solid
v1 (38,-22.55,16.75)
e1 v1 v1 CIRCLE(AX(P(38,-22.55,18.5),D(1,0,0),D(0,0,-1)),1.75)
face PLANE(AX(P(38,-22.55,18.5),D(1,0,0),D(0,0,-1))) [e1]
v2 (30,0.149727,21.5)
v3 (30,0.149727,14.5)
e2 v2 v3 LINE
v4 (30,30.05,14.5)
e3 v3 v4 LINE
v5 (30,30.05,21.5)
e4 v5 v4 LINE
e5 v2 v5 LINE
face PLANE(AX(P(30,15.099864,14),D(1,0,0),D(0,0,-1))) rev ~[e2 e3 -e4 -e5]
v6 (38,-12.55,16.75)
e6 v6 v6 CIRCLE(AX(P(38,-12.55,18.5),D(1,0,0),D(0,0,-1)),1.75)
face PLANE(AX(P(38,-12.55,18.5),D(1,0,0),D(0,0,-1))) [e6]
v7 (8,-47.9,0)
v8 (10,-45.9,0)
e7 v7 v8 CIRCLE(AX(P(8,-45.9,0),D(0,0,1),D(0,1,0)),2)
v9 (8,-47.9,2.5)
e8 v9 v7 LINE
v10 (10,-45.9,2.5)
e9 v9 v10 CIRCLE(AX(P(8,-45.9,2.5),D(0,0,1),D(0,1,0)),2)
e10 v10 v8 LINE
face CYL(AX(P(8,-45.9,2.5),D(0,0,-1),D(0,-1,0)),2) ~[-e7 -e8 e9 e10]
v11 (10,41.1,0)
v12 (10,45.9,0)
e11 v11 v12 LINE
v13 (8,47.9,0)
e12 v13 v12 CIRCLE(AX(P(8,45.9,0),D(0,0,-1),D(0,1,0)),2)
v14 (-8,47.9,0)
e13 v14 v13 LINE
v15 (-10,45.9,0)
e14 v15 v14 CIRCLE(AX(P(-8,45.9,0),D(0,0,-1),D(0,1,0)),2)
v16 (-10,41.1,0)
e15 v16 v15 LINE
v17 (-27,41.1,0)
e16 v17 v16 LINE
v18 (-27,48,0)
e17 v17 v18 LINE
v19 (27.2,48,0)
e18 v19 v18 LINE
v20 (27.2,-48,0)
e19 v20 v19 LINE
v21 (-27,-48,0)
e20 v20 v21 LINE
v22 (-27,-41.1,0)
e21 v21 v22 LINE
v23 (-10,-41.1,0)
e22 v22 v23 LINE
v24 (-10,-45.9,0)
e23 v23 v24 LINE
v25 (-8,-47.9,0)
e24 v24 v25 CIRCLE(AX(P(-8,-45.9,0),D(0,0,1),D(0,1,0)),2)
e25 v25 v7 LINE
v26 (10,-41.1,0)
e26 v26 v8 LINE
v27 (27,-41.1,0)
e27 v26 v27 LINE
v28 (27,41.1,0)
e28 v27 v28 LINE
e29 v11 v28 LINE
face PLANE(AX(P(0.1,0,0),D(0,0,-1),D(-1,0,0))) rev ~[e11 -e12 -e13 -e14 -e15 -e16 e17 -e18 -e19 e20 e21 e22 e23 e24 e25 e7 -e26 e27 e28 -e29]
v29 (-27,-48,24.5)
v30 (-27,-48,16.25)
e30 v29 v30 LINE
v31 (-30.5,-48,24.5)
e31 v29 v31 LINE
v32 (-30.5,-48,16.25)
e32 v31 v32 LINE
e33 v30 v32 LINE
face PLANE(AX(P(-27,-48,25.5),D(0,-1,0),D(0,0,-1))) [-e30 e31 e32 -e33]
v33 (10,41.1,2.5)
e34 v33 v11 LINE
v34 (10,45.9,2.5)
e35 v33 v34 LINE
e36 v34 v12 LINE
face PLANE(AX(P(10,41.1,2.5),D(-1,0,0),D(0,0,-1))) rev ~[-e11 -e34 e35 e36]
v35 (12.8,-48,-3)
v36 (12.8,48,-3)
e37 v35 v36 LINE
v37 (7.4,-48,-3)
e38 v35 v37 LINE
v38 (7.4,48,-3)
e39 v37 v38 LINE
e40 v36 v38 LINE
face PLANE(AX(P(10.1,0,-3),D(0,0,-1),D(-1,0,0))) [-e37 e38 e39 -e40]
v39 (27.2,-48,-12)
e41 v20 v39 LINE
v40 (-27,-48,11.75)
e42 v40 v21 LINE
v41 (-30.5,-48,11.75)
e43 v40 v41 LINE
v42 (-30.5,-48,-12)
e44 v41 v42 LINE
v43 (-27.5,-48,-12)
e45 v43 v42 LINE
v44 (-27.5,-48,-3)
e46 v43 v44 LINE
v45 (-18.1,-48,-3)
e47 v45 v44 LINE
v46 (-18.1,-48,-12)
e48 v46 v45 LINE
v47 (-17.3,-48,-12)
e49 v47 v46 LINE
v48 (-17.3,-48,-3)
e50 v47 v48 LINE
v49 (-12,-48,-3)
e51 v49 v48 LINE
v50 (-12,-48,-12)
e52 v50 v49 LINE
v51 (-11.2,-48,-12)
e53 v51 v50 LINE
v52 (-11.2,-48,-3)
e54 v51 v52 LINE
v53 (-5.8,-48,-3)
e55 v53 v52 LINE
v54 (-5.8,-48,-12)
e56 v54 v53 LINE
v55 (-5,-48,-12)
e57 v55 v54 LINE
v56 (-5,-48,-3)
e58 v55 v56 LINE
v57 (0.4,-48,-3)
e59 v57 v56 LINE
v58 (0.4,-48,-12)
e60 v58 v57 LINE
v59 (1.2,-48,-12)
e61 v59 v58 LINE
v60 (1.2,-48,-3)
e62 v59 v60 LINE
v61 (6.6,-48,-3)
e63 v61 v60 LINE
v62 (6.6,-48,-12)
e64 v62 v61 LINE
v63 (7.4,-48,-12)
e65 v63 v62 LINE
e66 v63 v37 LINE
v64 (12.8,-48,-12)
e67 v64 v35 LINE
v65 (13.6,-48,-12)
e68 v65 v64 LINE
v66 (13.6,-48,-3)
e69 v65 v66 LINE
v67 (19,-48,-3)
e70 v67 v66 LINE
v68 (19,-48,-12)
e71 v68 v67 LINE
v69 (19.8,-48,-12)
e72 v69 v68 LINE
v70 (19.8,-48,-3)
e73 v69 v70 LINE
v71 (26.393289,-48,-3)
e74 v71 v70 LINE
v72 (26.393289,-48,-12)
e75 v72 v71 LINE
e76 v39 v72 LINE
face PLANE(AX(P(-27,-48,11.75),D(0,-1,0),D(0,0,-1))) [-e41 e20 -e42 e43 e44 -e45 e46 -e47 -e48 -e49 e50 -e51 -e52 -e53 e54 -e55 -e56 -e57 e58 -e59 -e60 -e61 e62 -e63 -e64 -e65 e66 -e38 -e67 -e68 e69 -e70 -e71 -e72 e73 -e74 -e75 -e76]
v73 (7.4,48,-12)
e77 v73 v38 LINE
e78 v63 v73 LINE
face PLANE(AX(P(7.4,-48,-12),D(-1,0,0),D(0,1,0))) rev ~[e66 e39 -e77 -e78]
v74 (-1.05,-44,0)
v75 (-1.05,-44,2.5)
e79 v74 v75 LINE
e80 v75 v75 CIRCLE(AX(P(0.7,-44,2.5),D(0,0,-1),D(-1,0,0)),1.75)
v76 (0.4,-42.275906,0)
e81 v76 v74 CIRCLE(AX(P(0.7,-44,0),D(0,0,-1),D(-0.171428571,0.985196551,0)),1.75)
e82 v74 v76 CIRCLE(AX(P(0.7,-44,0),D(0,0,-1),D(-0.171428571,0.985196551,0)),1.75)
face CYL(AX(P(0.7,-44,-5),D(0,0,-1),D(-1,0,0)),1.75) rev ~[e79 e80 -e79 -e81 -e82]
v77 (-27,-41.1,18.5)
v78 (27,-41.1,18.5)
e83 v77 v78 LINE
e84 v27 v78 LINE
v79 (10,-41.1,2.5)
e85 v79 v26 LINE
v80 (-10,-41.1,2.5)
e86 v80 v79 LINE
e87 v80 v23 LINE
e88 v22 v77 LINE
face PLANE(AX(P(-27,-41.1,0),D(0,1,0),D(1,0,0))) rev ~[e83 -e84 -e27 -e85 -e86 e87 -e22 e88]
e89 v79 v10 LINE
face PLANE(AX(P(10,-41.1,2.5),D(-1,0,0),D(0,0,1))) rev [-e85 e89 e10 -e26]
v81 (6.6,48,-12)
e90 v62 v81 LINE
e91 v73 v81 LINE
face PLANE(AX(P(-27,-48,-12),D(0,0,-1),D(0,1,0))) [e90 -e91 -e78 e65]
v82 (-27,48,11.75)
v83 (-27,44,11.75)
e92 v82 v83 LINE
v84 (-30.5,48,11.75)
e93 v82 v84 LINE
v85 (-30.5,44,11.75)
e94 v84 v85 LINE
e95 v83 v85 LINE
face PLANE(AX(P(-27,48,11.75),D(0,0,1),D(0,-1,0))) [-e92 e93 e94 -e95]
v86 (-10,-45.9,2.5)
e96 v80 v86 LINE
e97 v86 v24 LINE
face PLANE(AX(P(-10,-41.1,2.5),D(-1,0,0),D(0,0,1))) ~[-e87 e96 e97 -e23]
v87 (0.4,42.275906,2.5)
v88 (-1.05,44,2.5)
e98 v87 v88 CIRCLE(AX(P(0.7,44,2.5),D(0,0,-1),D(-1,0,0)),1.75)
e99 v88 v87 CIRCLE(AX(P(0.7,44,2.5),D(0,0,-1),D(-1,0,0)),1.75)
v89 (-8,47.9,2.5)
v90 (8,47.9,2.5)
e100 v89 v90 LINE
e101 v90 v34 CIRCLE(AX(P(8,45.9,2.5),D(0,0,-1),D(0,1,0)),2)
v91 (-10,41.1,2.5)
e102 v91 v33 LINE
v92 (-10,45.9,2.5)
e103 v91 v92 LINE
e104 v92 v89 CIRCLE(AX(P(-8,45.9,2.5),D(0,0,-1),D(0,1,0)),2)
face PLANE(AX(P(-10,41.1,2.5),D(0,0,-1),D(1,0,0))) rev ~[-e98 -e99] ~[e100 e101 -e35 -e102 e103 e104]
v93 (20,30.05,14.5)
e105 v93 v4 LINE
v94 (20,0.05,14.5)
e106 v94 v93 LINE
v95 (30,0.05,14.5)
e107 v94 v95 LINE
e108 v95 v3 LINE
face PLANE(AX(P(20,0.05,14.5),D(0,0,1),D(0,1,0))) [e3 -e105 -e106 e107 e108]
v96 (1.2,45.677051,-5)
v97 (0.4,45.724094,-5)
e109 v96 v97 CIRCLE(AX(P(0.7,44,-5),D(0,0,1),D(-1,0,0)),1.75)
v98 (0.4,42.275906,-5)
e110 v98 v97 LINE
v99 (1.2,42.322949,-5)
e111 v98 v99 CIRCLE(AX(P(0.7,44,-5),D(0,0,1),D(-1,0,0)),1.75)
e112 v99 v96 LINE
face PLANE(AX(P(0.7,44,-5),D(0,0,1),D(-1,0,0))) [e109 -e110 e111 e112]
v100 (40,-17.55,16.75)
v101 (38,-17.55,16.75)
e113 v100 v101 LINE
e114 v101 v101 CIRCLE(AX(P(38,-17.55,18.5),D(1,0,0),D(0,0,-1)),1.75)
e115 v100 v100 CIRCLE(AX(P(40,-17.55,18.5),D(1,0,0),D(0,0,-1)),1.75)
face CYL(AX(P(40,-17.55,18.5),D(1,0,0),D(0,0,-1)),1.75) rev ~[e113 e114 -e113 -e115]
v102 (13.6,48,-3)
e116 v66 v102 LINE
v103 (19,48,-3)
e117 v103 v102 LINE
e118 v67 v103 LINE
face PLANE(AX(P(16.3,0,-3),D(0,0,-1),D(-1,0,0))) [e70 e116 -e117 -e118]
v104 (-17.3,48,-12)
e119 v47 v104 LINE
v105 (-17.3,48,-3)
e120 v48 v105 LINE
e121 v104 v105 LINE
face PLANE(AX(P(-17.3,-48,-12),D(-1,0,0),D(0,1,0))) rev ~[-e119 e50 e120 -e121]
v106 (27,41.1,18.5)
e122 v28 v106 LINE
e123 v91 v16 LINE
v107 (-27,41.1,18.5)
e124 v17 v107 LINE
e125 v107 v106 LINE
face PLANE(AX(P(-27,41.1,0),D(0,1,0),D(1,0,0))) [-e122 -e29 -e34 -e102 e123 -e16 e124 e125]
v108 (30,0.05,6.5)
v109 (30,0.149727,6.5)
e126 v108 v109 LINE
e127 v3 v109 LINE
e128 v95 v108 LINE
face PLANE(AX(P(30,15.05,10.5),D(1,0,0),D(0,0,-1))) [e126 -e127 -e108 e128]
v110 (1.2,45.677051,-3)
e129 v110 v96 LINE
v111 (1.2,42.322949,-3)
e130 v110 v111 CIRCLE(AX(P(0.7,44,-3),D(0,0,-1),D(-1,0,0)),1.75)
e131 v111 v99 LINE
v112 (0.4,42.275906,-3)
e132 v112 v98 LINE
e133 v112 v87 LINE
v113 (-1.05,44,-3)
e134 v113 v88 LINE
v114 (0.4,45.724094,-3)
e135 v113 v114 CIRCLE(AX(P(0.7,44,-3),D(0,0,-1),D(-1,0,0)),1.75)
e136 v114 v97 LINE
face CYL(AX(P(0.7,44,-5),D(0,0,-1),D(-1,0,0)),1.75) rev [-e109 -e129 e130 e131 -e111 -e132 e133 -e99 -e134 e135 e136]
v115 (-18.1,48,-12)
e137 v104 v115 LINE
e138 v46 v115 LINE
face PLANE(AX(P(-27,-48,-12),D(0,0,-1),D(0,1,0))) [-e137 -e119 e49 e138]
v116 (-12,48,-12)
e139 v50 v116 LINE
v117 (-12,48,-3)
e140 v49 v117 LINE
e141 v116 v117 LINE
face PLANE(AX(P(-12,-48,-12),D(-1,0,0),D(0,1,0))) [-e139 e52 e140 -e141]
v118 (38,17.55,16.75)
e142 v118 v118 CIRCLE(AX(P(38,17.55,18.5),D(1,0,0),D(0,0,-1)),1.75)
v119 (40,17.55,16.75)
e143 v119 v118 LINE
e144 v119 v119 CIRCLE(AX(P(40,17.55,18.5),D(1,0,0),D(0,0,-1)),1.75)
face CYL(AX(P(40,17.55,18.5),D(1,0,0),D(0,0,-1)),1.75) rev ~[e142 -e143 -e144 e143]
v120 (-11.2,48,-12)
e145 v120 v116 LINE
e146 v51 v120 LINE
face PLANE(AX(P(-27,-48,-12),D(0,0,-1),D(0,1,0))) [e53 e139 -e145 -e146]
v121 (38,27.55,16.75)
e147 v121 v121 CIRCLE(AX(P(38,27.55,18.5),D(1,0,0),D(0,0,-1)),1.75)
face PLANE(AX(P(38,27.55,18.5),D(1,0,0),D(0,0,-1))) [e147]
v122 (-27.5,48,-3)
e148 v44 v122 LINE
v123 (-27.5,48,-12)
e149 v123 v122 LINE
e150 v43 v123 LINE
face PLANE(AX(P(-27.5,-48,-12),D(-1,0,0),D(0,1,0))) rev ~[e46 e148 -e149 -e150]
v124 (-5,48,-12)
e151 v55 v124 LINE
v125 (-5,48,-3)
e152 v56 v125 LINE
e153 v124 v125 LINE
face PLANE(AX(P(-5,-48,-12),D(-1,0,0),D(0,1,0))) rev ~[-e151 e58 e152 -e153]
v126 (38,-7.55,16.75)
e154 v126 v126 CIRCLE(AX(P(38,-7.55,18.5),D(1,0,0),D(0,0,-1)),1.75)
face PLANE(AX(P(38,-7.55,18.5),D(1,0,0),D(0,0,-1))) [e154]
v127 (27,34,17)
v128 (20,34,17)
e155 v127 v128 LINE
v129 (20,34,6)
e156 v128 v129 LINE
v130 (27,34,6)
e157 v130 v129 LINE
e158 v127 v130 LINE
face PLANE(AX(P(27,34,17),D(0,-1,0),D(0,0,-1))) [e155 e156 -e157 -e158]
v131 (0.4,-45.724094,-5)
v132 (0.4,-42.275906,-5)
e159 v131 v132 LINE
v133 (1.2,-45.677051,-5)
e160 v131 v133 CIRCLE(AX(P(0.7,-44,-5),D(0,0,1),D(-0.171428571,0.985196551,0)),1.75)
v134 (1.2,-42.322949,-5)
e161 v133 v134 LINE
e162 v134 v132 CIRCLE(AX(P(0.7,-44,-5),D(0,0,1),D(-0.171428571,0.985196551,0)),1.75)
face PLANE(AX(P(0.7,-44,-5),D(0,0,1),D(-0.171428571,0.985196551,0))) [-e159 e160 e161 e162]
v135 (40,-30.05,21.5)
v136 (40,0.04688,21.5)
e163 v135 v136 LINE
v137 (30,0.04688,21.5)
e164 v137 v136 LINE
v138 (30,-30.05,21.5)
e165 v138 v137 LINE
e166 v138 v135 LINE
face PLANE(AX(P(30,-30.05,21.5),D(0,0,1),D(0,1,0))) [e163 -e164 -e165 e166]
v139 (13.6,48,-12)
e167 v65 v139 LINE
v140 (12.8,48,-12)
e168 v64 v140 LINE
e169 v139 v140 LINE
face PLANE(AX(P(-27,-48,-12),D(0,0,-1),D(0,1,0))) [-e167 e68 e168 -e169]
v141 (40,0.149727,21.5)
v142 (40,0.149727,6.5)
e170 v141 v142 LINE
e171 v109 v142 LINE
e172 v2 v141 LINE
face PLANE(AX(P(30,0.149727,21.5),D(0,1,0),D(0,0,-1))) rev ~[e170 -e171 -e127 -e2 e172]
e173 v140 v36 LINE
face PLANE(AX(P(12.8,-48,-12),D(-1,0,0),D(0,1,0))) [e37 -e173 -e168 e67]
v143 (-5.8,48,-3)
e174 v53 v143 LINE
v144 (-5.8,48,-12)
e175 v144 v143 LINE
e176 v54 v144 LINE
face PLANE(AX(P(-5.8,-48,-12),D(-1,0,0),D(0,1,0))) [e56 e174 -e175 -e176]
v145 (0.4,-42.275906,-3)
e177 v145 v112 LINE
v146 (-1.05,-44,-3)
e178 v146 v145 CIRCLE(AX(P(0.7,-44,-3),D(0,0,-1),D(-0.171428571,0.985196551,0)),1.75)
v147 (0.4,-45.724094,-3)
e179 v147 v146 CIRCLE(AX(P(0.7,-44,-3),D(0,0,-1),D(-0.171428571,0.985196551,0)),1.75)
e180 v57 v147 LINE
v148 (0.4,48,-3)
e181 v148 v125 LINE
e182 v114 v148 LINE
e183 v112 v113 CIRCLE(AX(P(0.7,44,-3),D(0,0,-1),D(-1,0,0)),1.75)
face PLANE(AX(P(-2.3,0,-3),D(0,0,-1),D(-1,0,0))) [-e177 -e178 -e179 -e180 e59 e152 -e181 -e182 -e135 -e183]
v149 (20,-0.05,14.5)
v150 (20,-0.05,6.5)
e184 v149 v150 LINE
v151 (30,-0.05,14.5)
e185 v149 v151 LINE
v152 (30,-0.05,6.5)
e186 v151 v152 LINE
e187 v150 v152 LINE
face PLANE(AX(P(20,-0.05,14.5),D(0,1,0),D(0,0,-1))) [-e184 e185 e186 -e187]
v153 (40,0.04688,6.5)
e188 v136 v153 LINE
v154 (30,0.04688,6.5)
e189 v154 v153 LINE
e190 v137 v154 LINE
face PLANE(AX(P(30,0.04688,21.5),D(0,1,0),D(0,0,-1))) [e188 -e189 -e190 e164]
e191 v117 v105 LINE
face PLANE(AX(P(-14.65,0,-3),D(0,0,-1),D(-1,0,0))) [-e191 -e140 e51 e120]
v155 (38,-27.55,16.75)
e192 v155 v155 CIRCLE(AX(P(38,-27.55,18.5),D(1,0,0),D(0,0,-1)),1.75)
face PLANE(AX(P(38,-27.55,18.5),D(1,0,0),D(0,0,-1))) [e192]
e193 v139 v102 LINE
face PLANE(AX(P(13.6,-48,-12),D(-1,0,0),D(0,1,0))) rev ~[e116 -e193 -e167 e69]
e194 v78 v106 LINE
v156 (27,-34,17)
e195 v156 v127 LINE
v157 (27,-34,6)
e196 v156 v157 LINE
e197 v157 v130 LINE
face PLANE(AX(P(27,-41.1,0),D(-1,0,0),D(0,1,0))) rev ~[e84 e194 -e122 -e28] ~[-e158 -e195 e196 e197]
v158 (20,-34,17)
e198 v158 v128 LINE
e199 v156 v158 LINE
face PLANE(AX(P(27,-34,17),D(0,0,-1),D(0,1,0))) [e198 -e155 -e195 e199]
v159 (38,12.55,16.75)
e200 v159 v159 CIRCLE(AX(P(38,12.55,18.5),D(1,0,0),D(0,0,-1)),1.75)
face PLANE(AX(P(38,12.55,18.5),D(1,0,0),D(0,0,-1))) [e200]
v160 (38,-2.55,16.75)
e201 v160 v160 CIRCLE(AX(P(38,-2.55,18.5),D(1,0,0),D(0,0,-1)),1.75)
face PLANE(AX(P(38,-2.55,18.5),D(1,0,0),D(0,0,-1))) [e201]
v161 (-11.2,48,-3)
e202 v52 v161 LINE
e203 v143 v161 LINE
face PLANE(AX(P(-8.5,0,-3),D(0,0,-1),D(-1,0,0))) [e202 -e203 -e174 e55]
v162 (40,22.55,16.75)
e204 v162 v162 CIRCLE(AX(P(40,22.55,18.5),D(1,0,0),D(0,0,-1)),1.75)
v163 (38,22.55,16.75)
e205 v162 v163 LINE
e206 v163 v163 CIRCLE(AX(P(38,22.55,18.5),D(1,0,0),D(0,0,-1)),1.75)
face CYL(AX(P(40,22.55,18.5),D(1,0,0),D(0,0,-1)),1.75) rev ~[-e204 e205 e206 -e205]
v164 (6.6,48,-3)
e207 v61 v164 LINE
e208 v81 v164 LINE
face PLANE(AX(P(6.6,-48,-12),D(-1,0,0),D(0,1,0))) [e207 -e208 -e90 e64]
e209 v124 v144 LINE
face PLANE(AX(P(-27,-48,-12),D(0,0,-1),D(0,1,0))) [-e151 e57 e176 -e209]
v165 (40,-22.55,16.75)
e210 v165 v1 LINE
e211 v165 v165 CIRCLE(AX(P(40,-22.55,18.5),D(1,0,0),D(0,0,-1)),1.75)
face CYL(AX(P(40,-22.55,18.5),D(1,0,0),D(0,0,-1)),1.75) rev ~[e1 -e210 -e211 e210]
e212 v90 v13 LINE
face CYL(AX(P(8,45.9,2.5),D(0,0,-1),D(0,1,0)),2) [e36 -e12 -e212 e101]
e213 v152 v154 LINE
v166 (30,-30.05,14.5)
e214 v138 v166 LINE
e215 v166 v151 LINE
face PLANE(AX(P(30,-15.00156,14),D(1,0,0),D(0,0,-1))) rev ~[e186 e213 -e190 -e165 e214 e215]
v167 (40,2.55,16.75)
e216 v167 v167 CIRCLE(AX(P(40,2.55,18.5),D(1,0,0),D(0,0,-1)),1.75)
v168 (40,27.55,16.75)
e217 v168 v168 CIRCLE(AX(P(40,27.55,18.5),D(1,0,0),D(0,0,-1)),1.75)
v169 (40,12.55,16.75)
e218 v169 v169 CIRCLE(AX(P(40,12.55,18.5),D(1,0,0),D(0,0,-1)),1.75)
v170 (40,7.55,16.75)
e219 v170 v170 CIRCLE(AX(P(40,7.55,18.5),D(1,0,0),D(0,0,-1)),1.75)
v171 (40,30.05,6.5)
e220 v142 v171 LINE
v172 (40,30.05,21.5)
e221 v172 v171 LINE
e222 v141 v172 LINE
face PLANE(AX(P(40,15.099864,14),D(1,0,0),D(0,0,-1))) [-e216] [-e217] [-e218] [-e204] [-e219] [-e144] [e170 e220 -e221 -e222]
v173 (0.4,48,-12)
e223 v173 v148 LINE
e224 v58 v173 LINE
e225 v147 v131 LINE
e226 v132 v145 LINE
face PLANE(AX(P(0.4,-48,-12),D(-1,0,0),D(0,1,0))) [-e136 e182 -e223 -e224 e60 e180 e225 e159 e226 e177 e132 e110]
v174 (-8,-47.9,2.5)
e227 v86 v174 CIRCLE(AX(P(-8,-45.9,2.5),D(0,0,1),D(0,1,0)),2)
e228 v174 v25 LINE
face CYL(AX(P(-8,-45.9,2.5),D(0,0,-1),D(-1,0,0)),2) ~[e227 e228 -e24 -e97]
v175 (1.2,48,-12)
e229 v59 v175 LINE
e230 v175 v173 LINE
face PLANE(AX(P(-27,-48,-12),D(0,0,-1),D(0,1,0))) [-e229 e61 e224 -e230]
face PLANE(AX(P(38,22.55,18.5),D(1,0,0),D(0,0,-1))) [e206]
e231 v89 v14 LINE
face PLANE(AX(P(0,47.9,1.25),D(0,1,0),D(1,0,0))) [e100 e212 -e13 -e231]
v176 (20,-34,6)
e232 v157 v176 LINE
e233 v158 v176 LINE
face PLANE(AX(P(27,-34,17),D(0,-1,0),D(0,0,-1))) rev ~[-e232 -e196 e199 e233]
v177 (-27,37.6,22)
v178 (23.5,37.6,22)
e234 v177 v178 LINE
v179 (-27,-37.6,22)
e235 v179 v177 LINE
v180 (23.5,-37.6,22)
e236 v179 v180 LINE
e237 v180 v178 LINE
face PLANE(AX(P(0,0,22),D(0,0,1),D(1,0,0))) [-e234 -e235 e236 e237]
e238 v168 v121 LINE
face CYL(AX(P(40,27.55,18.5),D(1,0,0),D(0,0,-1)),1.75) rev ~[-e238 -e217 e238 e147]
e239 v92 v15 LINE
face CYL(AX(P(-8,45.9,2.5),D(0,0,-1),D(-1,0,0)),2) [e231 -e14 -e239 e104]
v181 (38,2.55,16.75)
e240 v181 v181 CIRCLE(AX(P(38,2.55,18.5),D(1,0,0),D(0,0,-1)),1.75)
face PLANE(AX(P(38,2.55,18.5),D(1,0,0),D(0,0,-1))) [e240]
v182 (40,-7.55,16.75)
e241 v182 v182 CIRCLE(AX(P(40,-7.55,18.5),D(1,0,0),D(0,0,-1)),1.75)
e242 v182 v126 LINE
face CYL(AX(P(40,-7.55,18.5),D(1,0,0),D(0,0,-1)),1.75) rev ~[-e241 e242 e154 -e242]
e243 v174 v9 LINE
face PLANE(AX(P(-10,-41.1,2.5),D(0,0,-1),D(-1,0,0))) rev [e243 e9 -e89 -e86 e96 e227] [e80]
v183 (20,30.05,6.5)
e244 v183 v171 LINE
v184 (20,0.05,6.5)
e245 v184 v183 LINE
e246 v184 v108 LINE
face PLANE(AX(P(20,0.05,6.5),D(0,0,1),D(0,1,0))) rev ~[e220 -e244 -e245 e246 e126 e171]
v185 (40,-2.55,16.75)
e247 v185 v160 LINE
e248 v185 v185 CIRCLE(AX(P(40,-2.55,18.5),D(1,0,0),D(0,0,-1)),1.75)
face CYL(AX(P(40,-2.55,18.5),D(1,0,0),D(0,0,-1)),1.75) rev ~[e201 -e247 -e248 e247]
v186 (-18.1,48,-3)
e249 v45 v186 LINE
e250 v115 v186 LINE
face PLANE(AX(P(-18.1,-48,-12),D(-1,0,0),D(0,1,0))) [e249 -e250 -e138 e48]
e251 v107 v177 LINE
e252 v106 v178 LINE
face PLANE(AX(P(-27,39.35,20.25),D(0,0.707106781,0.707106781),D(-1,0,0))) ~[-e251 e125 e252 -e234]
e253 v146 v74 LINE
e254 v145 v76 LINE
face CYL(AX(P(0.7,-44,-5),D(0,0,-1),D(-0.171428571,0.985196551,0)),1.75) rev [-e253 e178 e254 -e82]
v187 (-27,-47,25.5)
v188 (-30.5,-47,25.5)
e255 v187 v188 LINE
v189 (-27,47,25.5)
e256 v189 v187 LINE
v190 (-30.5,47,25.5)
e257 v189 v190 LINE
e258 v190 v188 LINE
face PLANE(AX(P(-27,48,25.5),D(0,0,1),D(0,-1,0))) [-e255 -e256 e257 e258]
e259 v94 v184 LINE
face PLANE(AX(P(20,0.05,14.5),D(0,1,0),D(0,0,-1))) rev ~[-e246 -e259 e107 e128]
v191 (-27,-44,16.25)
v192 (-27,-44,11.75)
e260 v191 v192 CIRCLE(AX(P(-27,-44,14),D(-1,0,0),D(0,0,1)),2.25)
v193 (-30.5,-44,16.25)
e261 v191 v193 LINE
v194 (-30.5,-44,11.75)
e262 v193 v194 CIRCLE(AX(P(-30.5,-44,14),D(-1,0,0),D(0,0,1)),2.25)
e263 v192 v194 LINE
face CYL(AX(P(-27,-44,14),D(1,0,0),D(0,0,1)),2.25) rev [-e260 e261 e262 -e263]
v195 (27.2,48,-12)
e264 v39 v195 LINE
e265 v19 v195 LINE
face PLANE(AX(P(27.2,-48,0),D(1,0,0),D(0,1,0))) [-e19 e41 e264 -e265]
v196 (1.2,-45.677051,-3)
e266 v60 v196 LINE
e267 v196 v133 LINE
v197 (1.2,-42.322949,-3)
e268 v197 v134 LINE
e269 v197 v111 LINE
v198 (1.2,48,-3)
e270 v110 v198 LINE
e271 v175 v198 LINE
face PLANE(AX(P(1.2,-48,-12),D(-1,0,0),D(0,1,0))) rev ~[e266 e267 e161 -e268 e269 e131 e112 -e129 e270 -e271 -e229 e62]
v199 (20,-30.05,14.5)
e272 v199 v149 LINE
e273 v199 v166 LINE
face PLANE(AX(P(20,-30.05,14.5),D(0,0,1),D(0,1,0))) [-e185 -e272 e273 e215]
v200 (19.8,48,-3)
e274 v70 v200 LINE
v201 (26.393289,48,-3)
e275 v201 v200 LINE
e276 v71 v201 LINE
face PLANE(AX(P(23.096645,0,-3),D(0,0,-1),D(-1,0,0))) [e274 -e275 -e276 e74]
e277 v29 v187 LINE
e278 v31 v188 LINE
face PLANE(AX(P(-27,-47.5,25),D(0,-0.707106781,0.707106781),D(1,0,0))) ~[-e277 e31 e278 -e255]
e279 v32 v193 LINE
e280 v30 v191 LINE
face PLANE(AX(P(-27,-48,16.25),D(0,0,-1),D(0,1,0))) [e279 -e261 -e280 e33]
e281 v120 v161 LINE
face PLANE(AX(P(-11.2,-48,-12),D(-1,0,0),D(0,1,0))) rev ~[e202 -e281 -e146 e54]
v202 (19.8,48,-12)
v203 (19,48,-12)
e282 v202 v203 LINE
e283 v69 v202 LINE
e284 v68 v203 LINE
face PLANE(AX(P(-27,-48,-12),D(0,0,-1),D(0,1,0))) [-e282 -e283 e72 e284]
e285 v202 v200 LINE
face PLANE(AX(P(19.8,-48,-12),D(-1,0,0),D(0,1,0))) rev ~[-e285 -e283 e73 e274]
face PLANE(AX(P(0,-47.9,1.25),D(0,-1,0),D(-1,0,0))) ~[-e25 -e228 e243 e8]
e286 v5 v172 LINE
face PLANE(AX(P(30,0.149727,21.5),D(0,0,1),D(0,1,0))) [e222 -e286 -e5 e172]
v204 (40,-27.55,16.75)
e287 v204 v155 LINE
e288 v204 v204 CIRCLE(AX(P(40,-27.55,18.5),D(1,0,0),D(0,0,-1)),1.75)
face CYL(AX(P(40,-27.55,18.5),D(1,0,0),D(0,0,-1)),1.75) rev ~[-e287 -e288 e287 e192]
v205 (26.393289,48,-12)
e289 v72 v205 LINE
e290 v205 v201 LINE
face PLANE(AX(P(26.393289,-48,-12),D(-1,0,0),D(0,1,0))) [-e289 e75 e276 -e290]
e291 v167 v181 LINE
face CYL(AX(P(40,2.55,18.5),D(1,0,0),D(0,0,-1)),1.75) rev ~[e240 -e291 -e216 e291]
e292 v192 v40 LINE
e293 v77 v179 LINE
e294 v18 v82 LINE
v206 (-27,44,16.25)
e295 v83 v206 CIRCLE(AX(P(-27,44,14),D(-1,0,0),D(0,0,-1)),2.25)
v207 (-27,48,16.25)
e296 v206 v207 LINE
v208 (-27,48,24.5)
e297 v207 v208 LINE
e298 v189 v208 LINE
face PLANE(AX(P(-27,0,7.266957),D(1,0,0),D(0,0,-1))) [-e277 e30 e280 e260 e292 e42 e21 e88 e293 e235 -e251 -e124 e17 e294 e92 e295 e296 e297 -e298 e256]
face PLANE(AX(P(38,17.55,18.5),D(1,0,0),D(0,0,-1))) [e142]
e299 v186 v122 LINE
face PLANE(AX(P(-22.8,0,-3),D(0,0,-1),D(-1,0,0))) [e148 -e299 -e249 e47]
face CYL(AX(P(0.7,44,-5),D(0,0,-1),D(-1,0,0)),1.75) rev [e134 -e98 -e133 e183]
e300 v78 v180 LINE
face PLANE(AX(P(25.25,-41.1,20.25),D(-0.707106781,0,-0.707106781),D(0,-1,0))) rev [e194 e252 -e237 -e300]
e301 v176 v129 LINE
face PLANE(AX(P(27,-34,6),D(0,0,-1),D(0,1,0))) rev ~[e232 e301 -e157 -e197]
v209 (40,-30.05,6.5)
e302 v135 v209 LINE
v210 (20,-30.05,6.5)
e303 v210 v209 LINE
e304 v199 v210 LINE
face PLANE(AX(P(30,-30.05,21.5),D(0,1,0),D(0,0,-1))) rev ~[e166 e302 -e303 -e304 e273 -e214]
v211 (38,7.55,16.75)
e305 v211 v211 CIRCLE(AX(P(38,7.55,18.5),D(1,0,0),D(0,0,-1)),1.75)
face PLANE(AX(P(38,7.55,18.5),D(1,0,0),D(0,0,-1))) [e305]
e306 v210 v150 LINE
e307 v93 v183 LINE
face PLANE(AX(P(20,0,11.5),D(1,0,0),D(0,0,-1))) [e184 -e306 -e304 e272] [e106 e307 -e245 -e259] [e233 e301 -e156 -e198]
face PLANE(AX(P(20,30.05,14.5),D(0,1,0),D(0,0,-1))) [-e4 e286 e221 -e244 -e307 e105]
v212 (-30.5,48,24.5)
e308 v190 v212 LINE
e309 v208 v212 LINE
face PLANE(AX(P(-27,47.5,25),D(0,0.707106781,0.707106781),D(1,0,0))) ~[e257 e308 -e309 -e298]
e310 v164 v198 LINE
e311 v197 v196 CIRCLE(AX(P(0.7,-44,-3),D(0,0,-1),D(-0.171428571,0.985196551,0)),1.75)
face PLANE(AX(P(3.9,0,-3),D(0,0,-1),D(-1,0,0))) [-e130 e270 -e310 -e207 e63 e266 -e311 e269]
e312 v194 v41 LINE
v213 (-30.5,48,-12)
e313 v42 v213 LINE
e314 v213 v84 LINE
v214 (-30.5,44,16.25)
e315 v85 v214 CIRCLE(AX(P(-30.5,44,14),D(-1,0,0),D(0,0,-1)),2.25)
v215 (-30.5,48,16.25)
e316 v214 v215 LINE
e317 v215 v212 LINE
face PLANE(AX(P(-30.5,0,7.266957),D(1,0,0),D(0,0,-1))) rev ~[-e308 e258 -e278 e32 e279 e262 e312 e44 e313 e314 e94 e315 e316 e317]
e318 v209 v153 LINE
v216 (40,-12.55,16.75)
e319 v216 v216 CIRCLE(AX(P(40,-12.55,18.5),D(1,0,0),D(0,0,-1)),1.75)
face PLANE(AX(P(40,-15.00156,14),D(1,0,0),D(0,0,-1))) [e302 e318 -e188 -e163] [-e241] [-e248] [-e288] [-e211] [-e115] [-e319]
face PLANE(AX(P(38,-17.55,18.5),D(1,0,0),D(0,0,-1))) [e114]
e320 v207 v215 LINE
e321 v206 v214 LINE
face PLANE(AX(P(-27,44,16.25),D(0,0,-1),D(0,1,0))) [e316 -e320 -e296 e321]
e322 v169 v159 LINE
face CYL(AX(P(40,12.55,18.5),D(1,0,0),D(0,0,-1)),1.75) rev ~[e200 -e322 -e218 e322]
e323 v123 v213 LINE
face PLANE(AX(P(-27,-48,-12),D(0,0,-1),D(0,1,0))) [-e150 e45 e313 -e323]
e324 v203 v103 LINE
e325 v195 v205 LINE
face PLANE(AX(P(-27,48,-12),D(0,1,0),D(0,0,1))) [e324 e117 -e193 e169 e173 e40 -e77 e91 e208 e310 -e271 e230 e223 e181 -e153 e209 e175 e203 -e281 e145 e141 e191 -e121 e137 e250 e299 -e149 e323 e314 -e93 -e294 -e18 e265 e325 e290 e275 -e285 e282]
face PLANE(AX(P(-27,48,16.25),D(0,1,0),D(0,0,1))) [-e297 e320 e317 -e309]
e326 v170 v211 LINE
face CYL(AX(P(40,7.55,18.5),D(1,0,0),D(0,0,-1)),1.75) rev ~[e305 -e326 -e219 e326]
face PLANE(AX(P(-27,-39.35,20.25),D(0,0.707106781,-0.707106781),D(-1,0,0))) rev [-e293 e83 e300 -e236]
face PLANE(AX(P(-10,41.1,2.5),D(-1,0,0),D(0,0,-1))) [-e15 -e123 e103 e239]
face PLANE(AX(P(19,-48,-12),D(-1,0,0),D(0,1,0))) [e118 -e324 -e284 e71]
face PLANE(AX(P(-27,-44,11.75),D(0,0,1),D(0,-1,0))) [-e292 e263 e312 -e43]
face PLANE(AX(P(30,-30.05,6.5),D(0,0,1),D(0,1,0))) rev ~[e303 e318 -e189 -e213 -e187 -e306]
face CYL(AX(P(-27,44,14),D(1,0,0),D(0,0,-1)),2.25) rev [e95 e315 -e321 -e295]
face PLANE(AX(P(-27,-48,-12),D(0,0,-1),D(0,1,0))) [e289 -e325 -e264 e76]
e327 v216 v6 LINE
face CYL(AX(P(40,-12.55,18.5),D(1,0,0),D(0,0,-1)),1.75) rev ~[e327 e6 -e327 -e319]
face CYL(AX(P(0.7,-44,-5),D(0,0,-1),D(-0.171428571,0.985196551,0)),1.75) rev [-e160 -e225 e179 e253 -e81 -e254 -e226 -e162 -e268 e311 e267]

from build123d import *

# Parameters (mm, degrees)
SKETCH_1_W             = 54
SKETCH_1_H             = 82.2
EXTRUDE_1_DEPTH        = 22
CHAMFER_1_SIZE         = 3.5
SKETCH_2_W             = 54.2
SKETCH_2_H             = 96
EXTRUDE_2_DEPTH        = 12
EXTRUDE_3_DEPTH        = 3.5
CHAMFER_2_SIZE         = 1
SKETCH_5_W             = 9.4
SKETCH_5_H             = 96
SKETCH_5_W_2           = 5.3
SKETCH_5_W_3           = 5.4
SKETCH_5_W_4           = 6.593289258
CUT_EXTRUDE_2_DEPTH    = 9
SKETCH_6_W             = 11
SKETCH_6_H             = 68
CUT_EXTRUDE_3_DEPTH    = 7
SKETCH_7_W             = 8
SKETCH_7_H             = 30
EXTRUDE_5_DEPTH        = 10
SKETCH_8_W             = 15
SKETCH_8_H             = 30.09688029
SKETCH_8_H_2           = 29.900272582
EXTRUDE_6_DEPTH        = 10
SKETCH_9_R             = 1.75
CUT_EXTRUDE_4_DEPTH    = 2
SKETCH_10_W            = 20
SKETCH_10_H            = 2.5
EXTRUDE_7_DEPTH        = 6.8
CUT_EXTRUDE_START      = -5
SKETCH_4_R             = 1.75
CUT_EXTRUDE_1_DEPTH    = 75.485183559
FILLET_1_R             = 2
FILLET_1_OF_MIRROR_1_R = 2


with BuildPart() as part:
    # Эскиз1 → Бобышка-Вытянуть1 (new body)
    with BuildSketch(Plane.XY):
        Rectangle(SKETCH_1_W, SKETCH_1_H)
    extrude(amount=EXTRUDE_1_DEPTH)

    # Фаска1
    chamfer_1_edges = [part.edges().sort_by_distance(p)[0] for p in [
        (0, -41.1, 22),
        (27, 0, 22),
        (0, 41.1, 22),
    ]]
    chamfer(chamfer_1_edges, length=CHAMFER_1_SIZE)

    # Эскиз2 → Бобышка-Вытянуть2 (add)
    with BuildSketch(Plane(origin=(0, 0, 0), x_dir=(-1, 0, 0), z_dir=(0, 0, -1))):
        with Locations((-0.1, 0)):
            Rectangle(SKETCH_2_W, SKETCH_2_H)
    extrude(amount=EXTRUDE_2_DEPTH)

    # Эскиз3 → Бобышка-Вытянуть3 (add)
    with BuildSketch(Plane.ZY.offset(27)):
        with BuildLine():
            Line((-12, 48), (11.75, 48))
            Line((11.75, 48), (11.75, 44))
            ThreePointArc((11.75, 44), (14, 41.75), (16.25, 44))
            Line((16.25, 44), (16.25, 48))
            Line((16.25, 48), (25.5, 48))
            Line((25.5, 48), (25.5, -48))
            Line((25.5, -48), (16.25, -48))
            Line((16.25, -48), (16.25, -44))
            ThreePointArc((16.25, -44), (14, -41.75), (11.75, -44))
            Line((11.75, -44), (11.75, -48))
            Line((11.75, -48), (-12, -48))
            Line((-12, -48), (-12, 48))
        make_face()
    extrude(amount=EXTRUDE_3_DEPTH)

    # Фаска2
    chamfer_2_edges = [part.edges().sort_by_distance(p)[0] for p in [
        (-28.75, -48, 25.5),
        (-28.75, 48, 25.5),
    ]]
    chamfer(chamfer_2_edges, length=CHAMFER_2_SIZE)

    # Эскиз5 → Вырез-Вытянуть2 (cut)
    with BuildSketch(Plane(origin=(0, 0, -12), x_dir=(-1, 0, 0), z_dir=(0, 0, -1))):
        with Locations((22.8, 0)):
            Rectangle(SKETCH_5_W, SKETCH_5_H)
        with Locations((14.65, 0)):
            Rectangle(SKETCH_5_W_2, SKETCH_5_H)
        with Locations((8.5, 0)):
            Rectangle(SKETCH_5_W_3, SKETCH_5_H)
        with Locations((2.3, 0)):
            Rectangle(SKETCH_5_W_3, SKETCH_5_H)
        with Locations((-3.9, 0)):
            Rectangle(SKETCH_5_W_3, SKETCH_5_H)
        with Locations((-10.1, 0)):
            Rectangle(SKETCH_5_W_3, SKETCH_5_H)
        with Locations((-16.3, 0)):
            Rectangle(SKETCH_5_W_3, SKETCH_5_H)
        with Locations((-23.096644629, 0)):
            Rectangle(SKETCH_5_W_4, SKETCH_5_H)
    extrude(amount=-CUT_EXTRUDE_2_DEPTH, mode=Mode.SUBTRACT)

    # Эскиз6 → Вырез-Вытянуть3 (cut)
    with BuildSketch(Plane(origin=(27, 0, 0), x_dir=(0, 0, -1), z_dir=(1, 0, 0))):
        with Locations((-11.5, 0)):
            Rectangle(SKETCH_6_W, SKETCH_6_H)
    extrude(amount=-CUT_EXTRUDE_3_DEPTH, mode=Mode.SUBTRACT)

    # Эскиз7 → Бобышка-Вытянуть5 (add)
    with BuildSketch(Plane(origin=(20, 0, 0), x_dir=(0, 0, -1), z_dir=(1, 0, 0))):
        with Locations((-10.5, -15.05)):
            Rectangle(SKETCH_7_W, SKETCH_7_H)
        with Locations((-10.5, 15.05)):
            Rectangle(SKETCH_7_W, SKETCH_7_H)
    extrude(amount=EXTRUDE_5_DEPTH)

    # Эскиз8 → Бобышка-Вытянуть6 (add)
    with BuildSketch(Plane(origin=(30, 0, 0), x_dir=(0, 0, -1), z_dir=(1, 0, 0))):
        with Locations((-14, -15.001559855)):
            Rectangle(SKETCH_8_W, SKETCH_8_H)
        with Locations((-14, 15.099863709)):
            Rectangle(SKETCH_8_W, SKETCH_8_H_2)
    extrude(amount=EXTRUDE_6_DEPTH)

    # Эскиз9 → Вырез-Вытянуть4 (cut)
    with BuildSketch(Plane(origin=(40, 0, 0), x_dir=(0, 0, -1), z_dir=(1, 0, 0))):
        with Locations((-18.5, -27.55)):
            Circle(SKETCH_9_R)
        with Locations((-18.5, -22.55)):
            Circle(SKETCH_9_R)
        with Locations((-18.5, -17.55)):
            Circle(SKETCH_9_R)
        with Locations((-18.5, -12.55)):
            Circle(SKETCH_9_R)
        with Locations((-18.5, -7.55)):
            Circle(SKETCH_9_R)
        with Locations((-18.5, -2.55)):
            Circle(SKETCH_9_R)
        with Locations((-18.5, 2.55)):
            Circle(SKETCH_9_R)
        with Locations((-18.5, 7.55)):
            Circle(SKETCH_9_R)
        with Locations((-18.5, 12.55)):
            Circle(SKETCH_9_R)
        with Locations((-18.5, 17.55)):
            Circle(SKETCH_9_R)
        with Locations((-18.5, 22.55)):
            Circle(SKETCH_9_R)
        with Locations((-18.5, 27.55)):
            Circle(SKETCH_9_R)
    extrude(amount=-CUT_EXTRUDE_4_DEPTH, mode=Mode.SUBTRACT)

    # Эскиз10 → Бобышка-Вытянуть7 (add)
    with BuildSketch(Plane(origin=(0, 41.1, 0), x_dir=(1, 0, 0), z_dir=(0, 1, 0))):
        with Locations((0, -1.25)):
            Rectangle(SKETCH_10_W, SKETCH_10_H)
    extrude_7 = extrude(amount=EXTRUDE_7_DEPTH)

    # Эскиз4 → Вырез-Вытянуть1 (cut)
    with BuildSketch(Plane.XY.offset(CUT_EXTRUDE_START)):
        with Locations(Location((0.7, -44, 0), (0, 0, 99.870889606))):
            Circle(SKETCH_4_R)
        with Locations(Location((0.7, 44, 0), (0, 0, 180))):
            Circle(SKETCH_4_R)
    cut_extrude_1 = extrude(amount=CUT_EXTRUDE_1_DEPTH, mode=Mode.SUBTRACT)

    # Скругление1
    fillet_1_edges = [part.edges().sort_by_distance(p)[0] for p in [
        (10, 47.9, 1.25),
        (-10, 47.9, 1.25),
    ]]
    fillet(fillet_1_edges, radius=FILLET_1_R)

    # Зеркальное отражение1: Бобышка-Вытянуть7, Вырез-Вытянуть1 across plane
    add(extrude_7.mirror(Plane.ZX))
    add(cut_extrude_1.mirror(Plane.ZX), mode=Mode.SUBTRACT)

    # Скругление1 of Зеркальное отражение1
    fillet_1_of_mirror_1_edges = [part.edges().sort_by_distance(p)[0] for p in [
        (10, -47.9, 1.25),
        (-10, -47.9, 1.25),
    ]]
    fillet(fillet_1_of_mirror_1_edges, radius=FILLET_1_OF_MIRROR_1_R)


solid = part.part
